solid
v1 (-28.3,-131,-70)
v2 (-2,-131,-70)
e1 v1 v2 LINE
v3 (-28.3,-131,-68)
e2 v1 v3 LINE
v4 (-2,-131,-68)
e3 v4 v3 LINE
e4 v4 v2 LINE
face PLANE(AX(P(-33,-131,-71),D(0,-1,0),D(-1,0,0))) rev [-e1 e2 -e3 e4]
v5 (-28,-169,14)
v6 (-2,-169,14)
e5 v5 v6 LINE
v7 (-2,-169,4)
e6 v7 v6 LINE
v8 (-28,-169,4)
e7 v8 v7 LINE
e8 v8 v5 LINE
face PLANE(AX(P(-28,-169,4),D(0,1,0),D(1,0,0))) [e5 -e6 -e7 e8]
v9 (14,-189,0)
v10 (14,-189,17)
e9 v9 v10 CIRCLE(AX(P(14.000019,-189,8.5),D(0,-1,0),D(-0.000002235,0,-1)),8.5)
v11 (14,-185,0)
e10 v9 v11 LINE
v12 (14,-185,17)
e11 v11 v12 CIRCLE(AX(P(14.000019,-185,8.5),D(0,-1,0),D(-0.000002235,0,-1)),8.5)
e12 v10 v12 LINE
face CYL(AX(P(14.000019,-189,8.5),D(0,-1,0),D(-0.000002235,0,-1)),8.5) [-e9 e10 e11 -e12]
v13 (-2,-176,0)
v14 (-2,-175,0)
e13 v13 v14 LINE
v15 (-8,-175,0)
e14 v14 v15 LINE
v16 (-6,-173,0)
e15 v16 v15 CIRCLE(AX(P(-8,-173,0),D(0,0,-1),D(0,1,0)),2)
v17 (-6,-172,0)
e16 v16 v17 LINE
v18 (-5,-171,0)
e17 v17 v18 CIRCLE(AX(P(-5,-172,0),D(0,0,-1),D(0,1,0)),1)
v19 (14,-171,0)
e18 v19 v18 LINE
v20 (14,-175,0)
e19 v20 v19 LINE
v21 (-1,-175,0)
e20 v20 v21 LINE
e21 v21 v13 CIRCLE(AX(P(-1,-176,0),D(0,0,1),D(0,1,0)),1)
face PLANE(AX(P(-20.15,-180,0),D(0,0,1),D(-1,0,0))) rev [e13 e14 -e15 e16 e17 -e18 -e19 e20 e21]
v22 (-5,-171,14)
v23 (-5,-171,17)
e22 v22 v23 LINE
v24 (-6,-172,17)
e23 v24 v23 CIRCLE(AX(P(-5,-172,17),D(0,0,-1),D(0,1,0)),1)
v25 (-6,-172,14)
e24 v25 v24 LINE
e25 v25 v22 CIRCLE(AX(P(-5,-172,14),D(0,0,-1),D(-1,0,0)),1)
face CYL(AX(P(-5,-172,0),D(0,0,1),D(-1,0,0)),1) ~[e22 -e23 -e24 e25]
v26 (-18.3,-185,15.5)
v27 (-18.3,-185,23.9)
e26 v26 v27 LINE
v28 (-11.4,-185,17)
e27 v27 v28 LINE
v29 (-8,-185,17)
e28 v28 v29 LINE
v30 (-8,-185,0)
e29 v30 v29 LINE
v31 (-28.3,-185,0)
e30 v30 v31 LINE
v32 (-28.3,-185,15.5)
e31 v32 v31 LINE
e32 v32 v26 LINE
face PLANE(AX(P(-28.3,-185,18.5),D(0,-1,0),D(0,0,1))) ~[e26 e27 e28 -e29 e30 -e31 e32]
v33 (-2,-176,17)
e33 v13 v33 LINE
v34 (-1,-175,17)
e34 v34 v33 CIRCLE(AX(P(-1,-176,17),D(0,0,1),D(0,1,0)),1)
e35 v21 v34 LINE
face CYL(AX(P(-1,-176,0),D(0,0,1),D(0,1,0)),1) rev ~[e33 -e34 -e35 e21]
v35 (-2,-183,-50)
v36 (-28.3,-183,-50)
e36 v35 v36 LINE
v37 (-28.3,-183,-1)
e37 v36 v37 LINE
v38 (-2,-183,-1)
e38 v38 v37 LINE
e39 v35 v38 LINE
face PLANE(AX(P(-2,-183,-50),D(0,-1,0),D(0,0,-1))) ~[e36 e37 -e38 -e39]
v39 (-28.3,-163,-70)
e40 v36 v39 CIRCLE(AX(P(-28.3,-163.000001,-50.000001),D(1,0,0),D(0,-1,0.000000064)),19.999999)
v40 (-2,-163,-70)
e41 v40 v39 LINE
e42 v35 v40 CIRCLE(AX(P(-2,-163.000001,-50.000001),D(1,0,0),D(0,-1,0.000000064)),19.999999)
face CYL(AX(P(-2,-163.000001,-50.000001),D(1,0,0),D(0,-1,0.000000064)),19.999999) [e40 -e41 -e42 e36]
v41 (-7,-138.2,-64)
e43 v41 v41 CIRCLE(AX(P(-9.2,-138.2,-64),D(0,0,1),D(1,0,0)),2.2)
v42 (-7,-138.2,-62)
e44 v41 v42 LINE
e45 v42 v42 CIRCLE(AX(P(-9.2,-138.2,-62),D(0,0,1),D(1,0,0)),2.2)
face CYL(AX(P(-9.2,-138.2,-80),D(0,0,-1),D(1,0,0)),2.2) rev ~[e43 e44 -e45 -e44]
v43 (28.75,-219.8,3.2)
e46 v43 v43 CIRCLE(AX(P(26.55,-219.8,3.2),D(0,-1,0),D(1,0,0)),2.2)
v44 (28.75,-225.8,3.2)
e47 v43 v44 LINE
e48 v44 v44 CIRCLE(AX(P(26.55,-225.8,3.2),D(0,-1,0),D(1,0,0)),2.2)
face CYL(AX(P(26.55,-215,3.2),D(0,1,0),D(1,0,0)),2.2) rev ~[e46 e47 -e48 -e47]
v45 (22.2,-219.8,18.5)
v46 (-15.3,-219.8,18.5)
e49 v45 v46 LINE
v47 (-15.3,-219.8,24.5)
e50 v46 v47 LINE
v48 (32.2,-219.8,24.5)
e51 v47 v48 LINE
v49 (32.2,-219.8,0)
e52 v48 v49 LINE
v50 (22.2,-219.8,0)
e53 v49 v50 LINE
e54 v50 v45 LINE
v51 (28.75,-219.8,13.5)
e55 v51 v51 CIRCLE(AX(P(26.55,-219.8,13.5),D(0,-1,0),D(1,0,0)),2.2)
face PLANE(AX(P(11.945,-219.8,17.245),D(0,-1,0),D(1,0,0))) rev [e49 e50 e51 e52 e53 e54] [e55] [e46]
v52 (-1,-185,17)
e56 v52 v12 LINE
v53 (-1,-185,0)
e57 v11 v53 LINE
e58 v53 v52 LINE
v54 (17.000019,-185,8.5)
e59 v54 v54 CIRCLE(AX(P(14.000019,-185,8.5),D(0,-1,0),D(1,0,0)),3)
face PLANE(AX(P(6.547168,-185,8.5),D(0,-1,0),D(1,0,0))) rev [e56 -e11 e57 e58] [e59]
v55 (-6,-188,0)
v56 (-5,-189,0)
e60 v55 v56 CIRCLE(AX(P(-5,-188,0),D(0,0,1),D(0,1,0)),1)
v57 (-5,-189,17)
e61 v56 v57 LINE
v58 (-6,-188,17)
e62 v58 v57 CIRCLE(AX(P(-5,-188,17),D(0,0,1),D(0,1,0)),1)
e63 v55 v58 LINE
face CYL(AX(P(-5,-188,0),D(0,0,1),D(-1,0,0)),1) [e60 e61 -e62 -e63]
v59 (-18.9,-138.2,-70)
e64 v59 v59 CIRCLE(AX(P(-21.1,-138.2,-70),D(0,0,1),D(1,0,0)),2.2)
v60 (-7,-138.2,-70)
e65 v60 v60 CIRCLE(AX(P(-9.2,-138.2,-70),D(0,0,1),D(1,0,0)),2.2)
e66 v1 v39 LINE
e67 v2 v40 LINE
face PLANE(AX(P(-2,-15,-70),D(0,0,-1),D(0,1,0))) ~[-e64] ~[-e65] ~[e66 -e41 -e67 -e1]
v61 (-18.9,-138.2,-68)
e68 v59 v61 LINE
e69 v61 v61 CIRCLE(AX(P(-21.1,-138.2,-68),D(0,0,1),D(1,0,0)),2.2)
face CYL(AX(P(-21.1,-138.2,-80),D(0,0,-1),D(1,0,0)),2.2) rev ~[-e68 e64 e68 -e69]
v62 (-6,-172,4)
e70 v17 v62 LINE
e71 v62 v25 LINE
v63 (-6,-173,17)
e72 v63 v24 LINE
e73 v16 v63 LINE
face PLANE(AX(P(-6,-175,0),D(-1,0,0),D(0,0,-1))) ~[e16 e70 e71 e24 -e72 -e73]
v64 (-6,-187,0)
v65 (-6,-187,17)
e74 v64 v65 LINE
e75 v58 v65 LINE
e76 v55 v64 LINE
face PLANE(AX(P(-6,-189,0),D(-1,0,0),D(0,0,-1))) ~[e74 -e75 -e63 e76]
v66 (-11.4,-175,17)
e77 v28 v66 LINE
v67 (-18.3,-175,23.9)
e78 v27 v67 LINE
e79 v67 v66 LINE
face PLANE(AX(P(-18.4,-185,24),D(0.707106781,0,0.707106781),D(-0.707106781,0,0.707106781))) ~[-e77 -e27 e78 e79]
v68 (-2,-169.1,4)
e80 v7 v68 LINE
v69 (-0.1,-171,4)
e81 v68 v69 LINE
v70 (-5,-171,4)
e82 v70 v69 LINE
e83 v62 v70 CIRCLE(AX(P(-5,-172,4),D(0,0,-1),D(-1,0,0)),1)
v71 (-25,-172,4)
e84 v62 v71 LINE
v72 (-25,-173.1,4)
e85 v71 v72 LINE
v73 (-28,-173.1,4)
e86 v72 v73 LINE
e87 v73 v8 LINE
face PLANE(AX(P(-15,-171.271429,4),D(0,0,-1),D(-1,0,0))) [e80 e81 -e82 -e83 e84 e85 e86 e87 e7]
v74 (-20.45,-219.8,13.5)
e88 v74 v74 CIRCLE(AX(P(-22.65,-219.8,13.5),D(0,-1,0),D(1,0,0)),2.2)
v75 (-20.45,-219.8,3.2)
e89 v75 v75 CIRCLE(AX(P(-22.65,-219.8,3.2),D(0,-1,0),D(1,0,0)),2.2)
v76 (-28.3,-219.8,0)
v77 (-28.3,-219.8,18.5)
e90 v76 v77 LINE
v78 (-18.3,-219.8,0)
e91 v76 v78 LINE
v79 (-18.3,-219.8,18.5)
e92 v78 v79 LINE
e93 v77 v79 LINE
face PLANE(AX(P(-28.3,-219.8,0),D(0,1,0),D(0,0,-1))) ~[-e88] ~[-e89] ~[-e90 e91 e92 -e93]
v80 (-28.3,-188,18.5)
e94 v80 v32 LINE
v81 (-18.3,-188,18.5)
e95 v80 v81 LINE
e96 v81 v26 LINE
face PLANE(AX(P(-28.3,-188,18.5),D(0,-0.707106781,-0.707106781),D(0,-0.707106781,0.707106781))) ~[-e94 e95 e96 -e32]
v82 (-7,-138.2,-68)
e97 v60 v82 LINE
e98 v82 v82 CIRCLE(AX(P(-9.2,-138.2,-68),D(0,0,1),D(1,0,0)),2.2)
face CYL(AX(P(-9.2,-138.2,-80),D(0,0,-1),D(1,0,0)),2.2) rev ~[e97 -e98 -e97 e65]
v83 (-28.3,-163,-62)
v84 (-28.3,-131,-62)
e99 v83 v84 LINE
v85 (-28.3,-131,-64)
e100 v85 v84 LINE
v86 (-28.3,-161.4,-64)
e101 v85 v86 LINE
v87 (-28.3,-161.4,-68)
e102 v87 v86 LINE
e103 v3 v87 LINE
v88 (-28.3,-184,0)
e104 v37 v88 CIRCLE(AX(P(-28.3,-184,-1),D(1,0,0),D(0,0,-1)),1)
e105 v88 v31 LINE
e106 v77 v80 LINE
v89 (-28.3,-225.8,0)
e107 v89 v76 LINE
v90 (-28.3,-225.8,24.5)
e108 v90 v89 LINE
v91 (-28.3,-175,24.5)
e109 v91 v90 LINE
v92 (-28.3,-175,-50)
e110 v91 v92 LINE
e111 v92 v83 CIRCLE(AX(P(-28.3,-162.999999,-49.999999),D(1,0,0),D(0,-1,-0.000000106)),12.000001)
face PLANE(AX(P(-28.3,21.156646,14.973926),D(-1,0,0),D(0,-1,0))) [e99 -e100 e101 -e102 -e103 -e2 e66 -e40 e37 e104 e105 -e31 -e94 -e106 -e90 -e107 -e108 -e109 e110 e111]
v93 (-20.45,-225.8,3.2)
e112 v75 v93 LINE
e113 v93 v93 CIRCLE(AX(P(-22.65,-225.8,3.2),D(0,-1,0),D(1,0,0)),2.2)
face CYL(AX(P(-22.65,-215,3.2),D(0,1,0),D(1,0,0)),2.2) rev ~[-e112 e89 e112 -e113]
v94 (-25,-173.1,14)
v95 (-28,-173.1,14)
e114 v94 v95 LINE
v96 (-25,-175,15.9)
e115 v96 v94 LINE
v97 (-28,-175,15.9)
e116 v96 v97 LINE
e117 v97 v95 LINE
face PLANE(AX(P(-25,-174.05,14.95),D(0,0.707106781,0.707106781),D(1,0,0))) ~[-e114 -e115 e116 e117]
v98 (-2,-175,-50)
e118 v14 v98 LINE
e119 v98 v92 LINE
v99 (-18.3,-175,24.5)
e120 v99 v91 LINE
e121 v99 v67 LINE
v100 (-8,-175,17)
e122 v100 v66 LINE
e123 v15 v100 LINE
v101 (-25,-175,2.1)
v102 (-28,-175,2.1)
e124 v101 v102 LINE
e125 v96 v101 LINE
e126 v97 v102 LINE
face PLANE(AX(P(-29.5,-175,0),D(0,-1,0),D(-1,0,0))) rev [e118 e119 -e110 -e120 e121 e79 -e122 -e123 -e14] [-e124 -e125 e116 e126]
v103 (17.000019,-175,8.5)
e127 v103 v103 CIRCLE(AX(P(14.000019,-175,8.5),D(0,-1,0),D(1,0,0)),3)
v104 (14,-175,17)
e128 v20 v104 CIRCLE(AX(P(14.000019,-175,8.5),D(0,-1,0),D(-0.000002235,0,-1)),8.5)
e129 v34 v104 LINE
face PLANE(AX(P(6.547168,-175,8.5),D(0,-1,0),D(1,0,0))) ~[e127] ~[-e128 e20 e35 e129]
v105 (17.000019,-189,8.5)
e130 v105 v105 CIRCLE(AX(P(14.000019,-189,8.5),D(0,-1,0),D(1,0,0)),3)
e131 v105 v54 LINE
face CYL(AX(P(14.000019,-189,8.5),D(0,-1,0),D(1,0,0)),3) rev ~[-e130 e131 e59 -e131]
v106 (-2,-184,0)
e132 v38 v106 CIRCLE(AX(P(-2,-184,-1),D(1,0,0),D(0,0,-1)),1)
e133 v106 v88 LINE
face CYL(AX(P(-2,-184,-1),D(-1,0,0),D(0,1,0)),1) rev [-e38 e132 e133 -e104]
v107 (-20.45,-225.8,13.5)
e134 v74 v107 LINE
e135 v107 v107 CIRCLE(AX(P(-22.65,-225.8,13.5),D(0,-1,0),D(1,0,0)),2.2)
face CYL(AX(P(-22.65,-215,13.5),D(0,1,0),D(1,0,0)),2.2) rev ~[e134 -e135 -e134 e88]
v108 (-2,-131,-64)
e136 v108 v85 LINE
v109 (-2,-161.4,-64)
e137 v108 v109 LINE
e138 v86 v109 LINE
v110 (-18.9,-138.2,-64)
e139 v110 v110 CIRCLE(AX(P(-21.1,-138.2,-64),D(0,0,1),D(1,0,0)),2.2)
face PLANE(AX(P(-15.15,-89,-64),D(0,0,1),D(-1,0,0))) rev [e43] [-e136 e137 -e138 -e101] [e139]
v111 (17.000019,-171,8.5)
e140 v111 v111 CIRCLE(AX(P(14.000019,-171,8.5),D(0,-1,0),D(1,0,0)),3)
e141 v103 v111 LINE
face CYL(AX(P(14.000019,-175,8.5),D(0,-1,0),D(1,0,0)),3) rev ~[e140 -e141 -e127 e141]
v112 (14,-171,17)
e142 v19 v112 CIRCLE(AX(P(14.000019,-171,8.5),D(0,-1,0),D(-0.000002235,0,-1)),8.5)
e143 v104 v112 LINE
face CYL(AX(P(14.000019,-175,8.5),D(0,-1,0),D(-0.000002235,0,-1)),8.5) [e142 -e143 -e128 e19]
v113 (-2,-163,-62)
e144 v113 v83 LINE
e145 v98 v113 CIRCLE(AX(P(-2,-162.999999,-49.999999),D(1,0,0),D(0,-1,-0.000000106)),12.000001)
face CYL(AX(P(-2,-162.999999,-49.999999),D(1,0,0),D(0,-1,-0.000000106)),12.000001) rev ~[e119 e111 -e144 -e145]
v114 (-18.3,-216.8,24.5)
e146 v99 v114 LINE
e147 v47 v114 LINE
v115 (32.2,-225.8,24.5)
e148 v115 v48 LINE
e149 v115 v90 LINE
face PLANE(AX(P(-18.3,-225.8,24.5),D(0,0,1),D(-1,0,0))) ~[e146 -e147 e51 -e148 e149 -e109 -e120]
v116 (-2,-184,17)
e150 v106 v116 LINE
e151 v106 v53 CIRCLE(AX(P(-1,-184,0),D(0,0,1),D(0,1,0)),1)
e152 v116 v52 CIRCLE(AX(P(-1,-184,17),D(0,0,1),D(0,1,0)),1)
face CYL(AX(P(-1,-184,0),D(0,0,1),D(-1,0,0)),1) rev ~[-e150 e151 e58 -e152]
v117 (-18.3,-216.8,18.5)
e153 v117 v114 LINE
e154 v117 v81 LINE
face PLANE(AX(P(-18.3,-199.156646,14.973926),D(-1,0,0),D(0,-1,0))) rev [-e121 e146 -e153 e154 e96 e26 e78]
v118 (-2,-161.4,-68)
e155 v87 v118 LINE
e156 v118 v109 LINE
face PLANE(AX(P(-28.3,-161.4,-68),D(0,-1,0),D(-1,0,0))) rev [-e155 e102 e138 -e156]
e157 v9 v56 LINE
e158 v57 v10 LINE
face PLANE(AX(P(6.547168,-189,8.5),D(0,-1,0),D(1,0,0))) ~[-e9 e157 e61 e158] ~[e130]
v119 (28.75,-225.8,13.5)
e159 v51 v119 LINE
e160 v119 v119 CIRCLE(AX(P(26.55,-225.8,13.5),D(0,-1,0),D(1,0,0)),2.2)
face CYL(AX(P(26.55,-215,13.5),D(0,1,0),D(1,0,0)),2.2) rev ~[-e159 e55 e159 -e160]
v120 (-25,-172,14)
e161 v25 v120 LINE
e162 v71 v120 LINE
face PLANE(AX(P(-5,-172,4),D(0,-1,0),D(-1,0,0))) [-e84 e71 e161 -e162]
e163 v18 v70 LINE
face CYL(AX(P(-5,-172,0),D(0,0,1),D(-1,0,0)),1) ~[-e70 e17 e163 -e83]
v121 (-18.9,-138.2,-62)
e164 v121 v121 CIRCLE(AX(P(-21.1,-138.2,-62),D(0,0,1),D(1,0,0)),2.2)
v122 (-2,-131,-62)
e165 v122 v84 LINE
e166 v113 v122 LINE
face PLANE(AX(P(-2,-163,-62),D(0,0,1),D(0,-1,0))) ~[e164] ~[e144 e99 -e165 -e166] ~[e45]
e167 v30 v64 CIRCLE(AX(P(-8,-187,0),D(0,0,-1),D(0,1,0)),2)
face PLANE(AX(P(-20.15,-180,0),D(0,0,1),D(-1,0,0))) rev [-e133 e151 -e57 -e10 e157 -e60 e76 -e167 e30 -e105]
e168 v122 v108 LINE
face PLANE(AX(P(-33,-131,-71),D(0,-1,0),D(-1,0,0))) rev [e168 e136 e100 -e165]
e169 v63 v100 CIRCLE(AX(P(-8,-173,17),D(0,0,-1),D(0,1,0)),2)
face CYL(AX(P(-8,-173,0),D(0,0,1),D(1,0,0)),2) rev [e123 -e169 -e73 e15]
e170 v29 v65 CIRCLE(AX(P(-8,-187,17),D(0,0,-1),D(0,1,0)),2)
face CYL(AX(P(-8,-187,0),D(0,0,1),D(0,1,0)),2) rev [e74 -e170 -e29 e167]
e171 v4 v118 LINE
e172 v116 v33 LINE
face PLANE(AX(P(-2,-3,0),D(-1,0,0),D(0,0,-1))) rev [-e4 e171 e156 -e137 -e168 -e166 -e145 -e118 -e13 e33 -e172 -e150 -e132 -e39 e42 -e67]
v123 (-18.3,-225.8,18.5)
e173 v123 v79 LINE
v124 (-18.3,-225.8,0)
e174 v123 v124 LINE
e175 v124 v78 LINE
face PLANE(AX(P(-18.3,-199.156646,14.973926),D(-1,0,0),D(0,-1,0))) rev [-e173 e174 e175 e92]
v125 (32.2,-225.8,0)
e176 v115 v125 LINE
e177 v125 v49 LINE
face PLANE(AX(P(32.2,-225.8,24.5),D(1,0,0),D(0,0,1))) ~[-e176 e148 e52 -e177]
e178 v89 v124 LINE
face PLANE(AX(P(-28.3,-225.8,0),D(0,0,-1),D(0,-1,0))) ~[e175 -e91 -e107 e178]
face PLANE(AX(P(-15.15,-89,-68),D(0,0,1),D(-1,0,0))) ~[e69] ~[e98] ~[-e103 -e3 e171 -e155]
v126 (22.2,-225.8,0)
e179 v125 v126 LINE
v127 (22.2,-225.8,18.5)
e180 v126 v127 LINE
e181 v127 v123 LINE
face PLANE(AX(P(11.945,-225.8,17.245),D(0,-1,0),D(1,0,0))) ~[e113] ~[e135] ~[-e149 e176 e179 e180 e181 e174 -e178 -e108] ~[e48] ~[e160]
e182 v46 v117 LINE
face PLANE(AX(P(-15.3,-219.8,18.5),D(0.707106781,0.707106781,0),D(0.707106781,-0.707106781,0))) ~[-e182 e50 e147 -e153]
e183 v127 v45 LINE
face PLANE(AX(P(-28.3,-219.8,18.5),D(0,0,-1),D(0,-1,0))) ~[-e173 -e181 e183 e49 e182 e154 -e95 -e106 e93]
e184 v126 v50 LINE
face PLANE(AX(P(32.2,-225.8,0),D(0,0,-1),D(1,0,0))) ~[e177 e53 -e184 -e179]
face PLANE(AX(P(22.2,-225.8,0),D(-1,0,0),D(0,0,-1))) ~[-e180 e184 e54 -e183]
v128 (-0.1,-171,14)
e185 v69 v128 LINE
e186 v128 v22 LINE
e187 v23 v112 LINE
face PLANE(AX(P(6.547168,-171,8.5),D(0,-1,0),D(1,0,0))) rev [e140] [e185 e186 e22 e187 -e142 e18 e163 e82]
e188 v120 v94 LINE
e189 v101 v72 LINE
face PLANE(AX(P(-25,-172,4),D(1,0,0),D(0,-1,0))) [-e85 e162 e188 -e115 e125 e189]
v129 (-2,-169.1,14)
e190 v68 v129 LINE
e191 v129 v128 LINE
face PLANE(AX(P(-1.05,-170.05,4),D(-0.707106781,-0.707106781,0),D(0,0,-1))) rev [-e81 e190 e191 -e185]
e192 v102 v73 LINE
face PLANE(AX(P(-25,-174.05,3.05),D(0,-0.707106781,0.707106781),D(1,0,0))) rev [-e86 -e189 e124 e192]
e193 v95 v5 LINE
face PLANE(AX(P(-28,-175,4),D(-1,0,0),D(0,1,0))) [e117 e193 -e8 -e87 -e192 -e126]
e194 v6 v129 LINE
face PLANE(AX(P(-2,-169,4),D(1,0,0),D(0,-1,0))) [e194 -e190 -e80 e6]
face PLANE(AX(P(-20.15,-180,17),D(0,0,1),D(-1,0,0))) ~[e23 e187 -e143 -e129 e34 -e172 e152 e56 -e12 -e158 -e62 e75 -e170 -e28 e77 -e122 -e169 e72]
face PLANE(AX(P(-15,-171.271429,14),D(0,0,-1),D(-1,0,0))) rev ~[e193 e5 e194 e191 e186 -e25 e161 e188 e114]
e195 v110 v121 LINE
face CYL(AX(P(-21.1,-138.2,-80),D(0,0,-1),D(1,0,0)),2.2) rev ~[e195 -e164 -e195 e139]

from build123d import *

# Parameters (mm, degrees)
CYLINDER041_R          = 2.2
CYLINDER041_DEPTH      = 26
ARRAY015_X_COUNT       = 2
ARRAY015_X_PITCH       = 11.9
BOX056_W               = 26.3
BOX056_H               = 84
BOX056_DEPTH           = 8
BOX055_W               = 26.3
BOX055_H               = 144.8
BOX055_DEPTH           = 4
PAD070_DEPTH           = 10
PAD071_DEPTH           = 6
BOX054_W               = 80
BOX054_H               = 100
BOX054_DEPTH           = 100
BOX053_W               = 40
BOX053_H               = 84
BOX053_DEPTH           = 10
PAD065_DEPTH           = 10
PAD064_DEPTH           = 10
BOX051_W               = 12
BOX051_H               = 10
BOX051_DEPTH           = 30
CYLINDER039_R          = 2.2
CYLINDER039_DEPTH      = 18
CYLINDER039_ROLL_ANGLE = -90
ARRAY013_X_COUNT       = 2
ARRAY013_X_PITCH       = 49.2
ARRAY013_Z_COUNT       = 2
ARRAY013_Z_PITCH       = 10.3
PAD061_DEPTH           = 6
PAD060_DEPTH           = 10
BOX052_W               = 12
BOX052_H               = 10
BOX052_DEPTH           = 30
CYLINDER040_R          = 2.2
CYLINDER040_DEPTH      = 18
CYLINDER040_ROLL_ANGLE = -90
ARRAY014_X_COUNT       = 2
ARRAY014_X_PITCH       = 49.2
ARRAY014_Z_COUNT       = 2
ARRAY014_Z_PITCH       = 10.3
PAD063_DEPTH           = 6
PAD062_DEPTH           = 10
BOX050_W               = 16.3
BOX050_H               = 10
BOX050_DEPTH           = 17
SKETCH057_R            = 3
PAD058_DEPTH           = 4
SKETCH058_R            = 3
PAD059_DEPTH           = 4
BOX049_W               = 20
BOX049_H               = 17
BOX049_DEPTH           = 10
FILLET021_R            = 1
FILLET021_ROLL_ANGLE   = 90
FILLET022_1_R          = 2
FILLET022_2_R          = 1
BOX046_W               = 16.3
BOX046_H               = 10
BOX046_DEPTH           = 17
SKETCH053_R            = 3
PAD055_DEPTH           = 4
SKETCH054_R            = 3
PAD056_DEPTH           = 4
BOX045_W               = 20
BOX045_H               = 17
BOX045_DEPTH           = 10
FILLET019_R            = 1
FILLET019_ROLL_ANGLE   = 90
FILLET020_1_R          = 2
FILLET020_2_R          = 1
PAD054_DEPTH           = 26.3
CHAMFER008_SIZE        = 1.9
FILLET024_1_R          = 1.5
FILLET024_2_R          = 1
PAD069_DEPTH           = 10


with BuildPart() as taladros_cadera001:
    # Cylinder041 → Cylinder041 (new body)
    with BuildSketch(Plane(origin=(-9.2, -39.8, -80), x_dir=(1, 0, 0), z_dir=(0, 0, 1))):
        Circle(CYLINDER041_R)
    extrude(amount=CYLINDER041_DEPTH)

    # Array015 X: Taladros_cadera001 ×2


with BuildPart() as taladros_cadera001_1:
    add(taladros_cadera001.part)
    with Locations(*[(-i * ARRAY015_X_PITCH, 0, 0) for i in range(1, ARRAY015_X_COUNT)]):
        add(taladros_cadera001.part)


with BuildPart() as cadera_base_centro002:
    # Box056 → Box056 (new body)
    with BuildSketch(Plane(origin=(-28.3, -133, -70), x_dir=(1, 0, 0), z_dir=(0, 0, 1))):
        with Locations((13.15, 42)):
            Rectangle(BOX056_W, BOX056_H)
    extrude(amount=BOX056_DEPTH)


with BuildPart() as cadera_centro001:
    # Box055 → Box055 (new body)
    with BuildSketch(Plane(origin=(-28.3, -163.4, -68), x_dir=(1, 0, 0), z_dir=(0, 0, 1))):
        with Locations((13.15, 72.4)):
            Rectangle(BOX055_W, BOX055_H)
    extrude(amount=BOX055_DEPTH)

    # Fusion009003065: union Cadera_base_centro002
    add(cadera_base_centro002.part)


with BuildPart() as cadera_centro001_1:
    # Fusion009003065 placement: moved
    add(cadera_centro001.part.moved(Location((0, 2, 0))))


with BuildPart() as refuerzo012:
    # Sketch070 → Pad070 (new body)
    with BuildSketch(Plane(origin=(-28.3, 7, 18.5), x_dir=(0, 0, -1), z_dir=(1, 0, 0))):
        Polygon((0, 0), (0, 3), (3, 0), align=None)
    extrude(amount=PAD070_DEPTH)


with BuildPart() as refuerzo013:
    # Sketch071 → Pad071 (new body)
    with BuildSketch(Plane(origin=(-18.3, 41.8, 18.5), x_dir=(0, -1, 0), z_dir=(0, 0, 1))):
        Polygon((0, 0), (0, 3), (3, 0), align=None)
    extrude(amount=PAD071_DEPTH)


with BuildPart() as cortar_extremo_cadera001:
    # Box054 → Box054 (new body)
    with BuildSketch(Plane(origin=(-40, -229, -71), x_dir=(1, 0, 0), z_dir=(0, 0, 1))):
        with Locations((40, 50)):
            Rectangle(BOX054_W, BOX054_H)
    extrude(amount=BOX054_DEPTH)


with BuildPart() as corte_cadera001:
    # Box053 → Box053 (new body)
    with BuildSketch(Plane(origin=(-33, -131, -71), x_dir=(1, 0, 0), z_dir=(0, 0, 1))):
        with Locations((20, 42)):
            Rectangle(BOX053_W, BOX053_H)
    extrude(amount=BOX053_DEPTH)


with BuildPart() as suje_cadera003:
    # Sketch064 → Pad065 (new body)
    with BuildSketch(Plane(origin=(-28, -127, 4), x_dir=(1, 0, 0), z_dir=(0, 0, 1))):
        Polygon((0, 0), (0, 6), (26, 6), (26, 0), (23, 0), (23, 3), (3, 3), (3, 0), align=None)
    extrude(amount=PAD065_DEPTH)


with BuildPart() as suje_cadera1_mirror001:
    # Part__Mirroring011: instance of suje_cadera003
    add(suje_cadera003.part.mirror(Plane(origin=(0, 0, 0), x_dir=(1, 0, 0), z_dir=(0, 1, 0))))


with BuildPart() as suje_cadera1_mirror001_1:
    # Part__Mirroring011 placement: moved
    add(suje_cadera1_mirror001.part.moved(Location((0, -130, 0))))


with BuildPart() as sujetadores_cadera001:
    # Sketch063 → Pad064 (new body)
    with BuildSketch(Plane(origin=(-28, -175, 4), x_dir=(1, 0, 0), z_dir=(0, 0, 1))):
        Polygon((0, 0), (0, 6), (26, 6), (26, 0), (23, 0), (23, 3), (3, 3), (3, 0), align=None)
    extrude(amount=PAD064_DEPTH)

    # Fusion009003063: union suje_cadera1_Mirror001
    add(suje_cadera1_mirror001_1.part)


with BuildPart() as resta_sujetador_cadera002:
    # Box051 → Box051 (new body)
    with BuildSketch(Plane(origin=(-29.5, -13, 0), x_dir=(1, 0, 0), z_dir=(0, 0, 1))):
        with Locations((6, 5)):
            Rectangle(BOX051_W, BOX051_H)
    extrude(amount=BOX051_DEPTH)


with BuildPart() as taladros_suje_motor004:
    # Cylinder039 → Cylinder039 (new body)
    with BuildSketch(Plane.XY):
        Circle(CYLINDER039_R)
    extrude(amount=CYLINDER039_DEPTH)


with BuildPart() as taladros_suje_motor004_1:
    # Cylinder039 roll: moved
    add(taladros_suje_motor004.part.rotate(Axis((0, 0, 0), (1, 0, 0)), CYLINDER039_ROLL_ANGLE))


with BuildPart() as taladros_suje_motor004_2:
    # Cylinder039 placement: moved
    add(taladros_suje_motor004_1.part.moved(Location((150.075, 41, 13.5))))

    # Array013 X: Taladros_suje_motor004 ×2


with BuildPart() as taladros_suje_motor004_3:
    add(taladros_suje_motor004_2.part)
    with Locations(*[(i * ARRAY013_X_PITCH, 0, 0) for i in range(1, ARRAY013_X_COUNT)]):
        add(taladros_suje_motor004_2.part)

    # Array013 Z: Taladros_suje_motor004 ×2


with BuildPart() as taladros_suje_motor004_4:
    add(taladros_suje_motor004_3.part)
    with Locations(*[(0, 0, -i * ARRAY013_Z_PITCH) for i in range(1, ARRAY013_Z_COUNT)]):
        add(taladros_suje_motor004_3.part)


with BuildPart() as suje_motor013:
    # Sketch060 → Pad061 (new body)
    with BuildSketch(Plane(origin=(10, 54.8, 0), x_dir=(1, 0, 0), z_dir=(0, -1, 0))):
        Polygon((0, 18.5), (0, 24.5), (50.5, 24.5), (50.5, 0), (40.5, 0), (40.5, 18.5), align=None)
    extrude(amount=PAD061_DEPTH)


with BuildPart() as sujetador_cadera_full003:
    # Sketch059 → Pad060 (new body)
    with BuildSketch(Plane.YZ):
        Polygon((14, 0), (0, 0), (0, 24.5), (54.8, 24.5), (54.8, 0), (48.8, 0), (48.8, 18.5), (14, 18.5), align=None)
    extrude(amount=PAD060_DEPTH)

    # Fusion009003060: union Suje_motor013
    add(suje_motor013.part)


with BuildPart() as sujetador_cadera_full003_1:
    # Fusion009003060 placement: moved
    add(sujetador_cadera_full003.part.moved(Location((144.425, -3, 0))))

    # Cut041: cut Taladros_suje_motor004
    add(taladros_suje_motor004_4.part, mode=Mode.SUBTRACT)


with BuildPart() as sujetador_cadera_full003_2:
    # Cut041 placement: moved
    add(sujetador_cadera_full003_1.part.moved(Location((-172.725, -4, 0))))

    # Cut042: cut Resta_sujetador_cadera002
    add(resta_sujetador_cadera002.part, mode=Mode.SUBTRACT)


with BuildPart() as resta_sujetador_cadera003:
    # Box052 → Box052 (new body)
    with BuildSketch(Plane(origin=(-29.5, -13, 0), x_dir=(1, 0, 0), z_dir=(0, 0, 1))):
        with Locations((6, 5)):
            Rectangle(BOX052_W, BOX052_H)
    extrude(amount=BOX052_DEPTH)


with BuildPart() as taladros_suje_motor005:
    # Cylinder040 → Cylinder040 (new body)
    with BuildSketch(Plane.XY):
        Circle(CYLINDER040_R)
    extrude(amount=CYLINDER040_DEPTH)


with BuildPart() as taladros_suje_motor005_1:
    # Cylinder040 roll: moved
    add(taladros_suje_motor005.part.rotate(Axis((0, 0, 0), (1, 0, 0)), CYLINDER040_ROLL_ANGLE))


with BuildPart() as taladros_suje_motor005_2:
    # Cylinder040 placement: moved
    add(taladros_suje_motor005_1.part.moved(Location((150.075, 41, 13.5))))

    # Array014 X: Taladros_suje_motor005 ×2


with BuildPart() as taladros_suje_motor005_3:
    add(taladros_suje_motor005_2.part)
    with Locations(*[(i * ARRAY014_X_PITCH, 0, 0) for i in range(1, ARRAY014_X_COUNT)]):
        add(taladros_suje_motor005_2.part)

    # Array014 Z: Taladros_suje_motor005 ×2


with BuildPart() as taladros_suje_motor005_4:
    add(taladros_suje_motor005_3.part)
    with Locations(*[(0, 0, -i * ARRAY014_Z_PITCH) for i in range(1, ARRAY014_Z_COUNT)]):
        add(taladros_suje_motor005_3.part)


with BuildPart() as suje_motor016:
    # Sketch062 → Pad063 (new body)
    with BuildSketch(Plane(origin=(10, 54.8, 0), x_dir=(1, 0, 0), z_dir=(0, -1, 0))):
        Polygon((0, 18.5), (0, 24.5), (50.5, 24.5), (50.5, 0), (40.5, 0), (40.5, 18.5), align=None)
    extrude(amount=PAD063_DEPTH)


with BuildPart() as sujetador_cadera_full004:
    # Sketch061 → Pad062 (new body)
    with BuildSketch(Plane.YZ):
        Polygon((14, 0), (0, 0), (0, 24.5), (54.8, 24.5), (54.8, 0), (48.8, 0), (48.8, 18.5), (14, 18.5), align=None)
    extrude(amount=PAD062_DEPTH)

    # Fusion009003061: union Suje_motor016
    add(suje_motor016.part)


with BuildPart() as sujetador_cadera_full004_1:
    # Fusion009003061 placement: moved
    add(sujetador_cadera_full004.part.moved(Location((144.425, -3, 0))))

    # Cut043: cut Taladros_suje_motor005
    add(taladros_suje_motor005_4.part, mode=Mode.SUBTRACT)


with BuildPart() as sujetador_cadera_full004_2:
    # Cut043 placement: moved
    add(sujetador_cadera_full004_1.part.moved(Location((-172.725, -4, 0))))

    # Cut044: cut Resta_sujetador_cadera003
    add(resta_sujetador_cadera003.part, mode=Mode.SUBTRACT)


with BuildPart() as sujetador_cadera_full_mirror001:
    # Part__Mirroring010: instance of Sujetador_cadera_full004
    add(sujetador_cadera_full004_2.part.mirror(Plane(origin=(0, 0, 0), x_dir=(1, 0, 0), z_dir=(0, 1, 0))))


with BuildPart() as sujetador_cadera_full_mirror001_1:
    # Part__Mirroring010 placement: moved
    add(sujetador_cadera_full_mirror001.part.moved(Location((0, -178, 0))))


with BuildPart() as cubo_externo003:
    # Box050 → Box050 (new body)
    with BuildSketch(Plane(origin=(-26.3, -8, 0), x_dir=(1, 0, 0), z_dir=(0, 0, 1))):
        with Locations((8.15, 5)):
            Rectangle(BOX050_W, BOX050_H)
    extrude(amount=BOX050_DEPTH)


with BuildPart() as ciculo_gancho011:
    # Sketch057 → Pad058 (new body)
    with BuildSketch(Plane.XY):
        with BuildLine():
            Line((0, 17), (20, 17))
            ThreePointArc((20, 0), (28.500019, 8.5), (20, 17))
            Line((20, 0), (0, 0))
            Line((0, 0), (0, 17))
        make_face()
        with Locations((20.000019, 8.5)):
            Circle(SKETCH057_R, mode=Mode.SUBTRACT)
    extrude(amount=PAD058_DEPTH)


with BuildPart() as ciculo_gancho012:
    # Sketch058 → Pad059 (new body)
    with BuildSketch(Plane.XY.offset(14)):
        with BuildLine():
            Line((0, 17), (20, 17))
            ThreePointArc((20, 0), (28.500019, 8.5), (20, 17))
            Line((20, 0), (0, 0))
            Line((0, 0), (0, 17))
        make_face()
        with Locations((20.000019, 8.5)):
            Circle(SKETCH058_R, mode=Mode.SUBTRACT)
    extrude(amount=PAD059_DEPTH)


with BuildPart() as gancho_cadera003:
    # Box049 → Box049 (new body)
    with BuildSketch(Plane(origin=(-16, 0, 4), x_dir=(1, 0, 0), z_dir=(0, 0, 1))):
        with Locations((10, 8.5)):
            Rectangle(BOX049_W, BOX049_H)
    extrude(amount=BOX049_DEPTH)

    # Fusion009003056: union Ciculo_gancho011, Ciculo_gancho012
    add(ciculo_gancho011.part)
    add(ciculo_gancho012.part)

    # Fillet021
    fillet021_edges = [gancho_cadera003.edges().sort_by_distance(p)[0] for p in [
        (0, 8.5, 18),
        (-16, 0, 9),
        (-16, 17, 9),
        (0, 8.5, 0),
    ]]
    fillet(fillet021_edges, radius=FILLET021_R)


with BuildPart() as gancho_cadera003_1:
    # Fillet021 roll: moved
    add(gancho_cadera003.part.rotate(Axis((0, 0, 0), (1, 0, 0)), FILLET021_ROLL_ANGLE))


with BuildPart() as gancho_cadera003_2:
    # Fillet021 placement: moved
    add(gancho_cadera003_1.part.moved(Location((16, 15, 0))))

    # Fillet022 1
    fillet022_1_edges = [gancho_cadera003_2.edges().sort_by_distance(p)[0] for p in [
        (16, 1, 8.5),
        (16, 11, 8.5),
    ]]
    fillet(fillet022_1_edges, radius=FILLET022_1_R)

    # Fillet022 2
    fillet022_2_edges = [gancho_cadera003_2.edges().sort_by_distance(p)[0] for p in [
        (20, 1, 8.5),
        (20, 11, 8.5),
    ]]
    fillet(fillet022_2_edges, radius=FILLET022_2_R)


with BuildPart() as gancho_cadera003_3:
    # Fillet022 placement: moved
    add(gancho_cadera003_2.part.moved(Location((-20, -9, 0))))

    # Fusion009003057: union Cubo_externo003
    add(cubo_externo003.part)


with BuildPart() as gancho_cadera003_4:
    # Fusion009003057 placement: moved
    add(gancho_cadera003_3.part.moved(Location((0, -182, 0))))


with BuildPart() as cubo_externo002:
    # Box046 → Box046 (new body)
    with BuildSketch(Plane(origin=(-26.3, -8, 0), x_dir=(1, 0, 0), z_dir=(0, 0, 1))):
        with Locations((8.15, 5)):
            Rectangle(BOX046_W, BOX046_H)
    extrude(amount=BOX046_DEPTH)


with BuildPart() as ciculo_gancho009:
    # Sketch053 → Pad055 (new body)
    with BuildSketch(Plane.XY):
        with BuildLine():
            Line((0, 17), (20, 17))
            ThreePointArc((20, 0), (28.500019, 8.5), (20, 17))
            Line((20, 0), (0, 0))
            Line((0, 0), (0, 17))
        make_face()
        with Locations((20.000019, 8.5)):
            Circle(SKETCH053_R, mode=Mode.SUBTRACT)
    extrude(amount=PAD055_DEPTH)


with BuildPart() as ciculo_gancho010:
    # Sketch054 → Pad056 (new body)
    with BuildSketch(Plane.XY.offset(14)):
        with BuildLine():
            Line((0, 17), (20, 17))
            ThreePointArc((20, 0), (28.500019, 8.5), (20, 17))
            Line((20, 0), (0, 0))
            Line((0, 0), (0, 17))
        make_face()
        with Locations((20.000019, 8.5)):
            Circle(SKETCH054_R, mode=Mode.SUBTRACT)
    extrude(amount=PAD056_DEPTH)


with BuildPart() as ganchos_cadera001:
    # Box045 → Box045 (new body)
    with BuildSketch(Plane(origin=(-16, 0, 4), x_dir=(1, 0, 0), z_dir=(0, 0, 1))):
        with Locations((10, 8.5)):
            Rectangle(BOX045_W, BOX045_H)
    extrude(amount=BOX045_DEPTH)

    # Fusion009003052: union Ciculo_gancho009, Ciculo_gancho010
    add(ciculo_gancho009.part)
    add(ciculo_gancho010.part)

    # Fillet019
    fillet019_edges = [ganchos_cadera001.edges().sort_by_distance(p)[0] for p in [
        (0, 8.5, 18),
        (-16, 0, 9),
        (-16, 17, 9),
        (0, 8.5, 0),
    ]]
    fillet(fillet019_edges, radius=FILLET019_R)


with BuildPart() as ganchos_cadera001_1:
    # Fillet019 roll: moved
    add(ganchos_cadera001.part.rotate(Axis((0, 0, 0), (1, 0, 0)), FILLET019_ROLL_ANGLE))


with BuildPart() as ganchos_cadera001_2:
    # Fillet019 placement: moved
    add(ganchos_cadera001_1.part.moved(Location((16, 15, 0))))

    # Fillet020 1
    fillet020_1_edges = [ganchos_cadera001_2.edges().sort_by_distance(p)[0] for p in [
        (16, 1, 8.5),
        (16, 11, 8.5),
    ]]
    fillet(fillet020_1_edges, radius=FILLET020_1_R)

    # Fillet020 2
    fillet020_2_edges = [ganchos_cadera001_2.edges().sort_by_distance(p)[0] for p in [
        (20, 1, 8.5),
        (20, 11, 8.5),
    ]]
    fillet(fillet020_2_edges, radius=FILLET020_2_R)


with BuildPart() as ganchos_cadera001_3:
    # Fillet020 placement: moved
    add(ganchos_cadera001_2.part.moved(Location((-20, -9, 0))))

    # Fusion009003055: union Cubo_externo002
    add(cubo_externo002.part)

    # Fusion009003058: union Gancho_cadera003
    add(gancho_cadera003_4.part)


with BuildPart() as cadera_extremo_izquierdo_base001:
    # Sketch055 → Pad054 (new body)
    with BuildSketch(Plane(origin=(0, 0, 0), x_dir=(0, 1, 0), z_dir=(-1, 0, 0))):
        with BuildLine():
            Line((-188, 0), (-188, 50))
            ThreePointArc((-168, 70), (-182.142136, 64.142136), (-188, 50))
            Line((-168, 70), (-20, 70))
            ThreePointArc((0, 50), (-5.857864, 64.142136), (-20, 70))
            Line((0, 50), (0, 0))
            Line((0, 0), (-8, 0))
            Line((-8, 0), (-8, 50))
            ThreePointArc((-8, 50), (-11.514719, 58.485281), (-20, 62))
            Line((-20, 62), (-168, 62))
            ThreePointArc((-168, 62), (-176.485281, 58.485281), (-180, 50))
            Line((-180, 50), (-180, 0))
            Line((-180, 0), (-188, 0))
        make_face()
    extrude(amount=PAD054_DEPTH)

    # Fusion009003059: union Ganchos_cadera001
    add(ganchos_cadera001_3.part)


with BuildPart() as cadera_extremo_izquierdo_base001_1:
    # Fusion009003059 placement: moved
    add(cadera_extremo_izquierdo_base001.part.moved(Location((-2, 5, 0))))

    # Fusion009003062: union Sujetador_cadera_full003, Sujetador_cadera_full Mirror001
    add(sujetador_cadera_full003_2.part)
    add(sujetador_cadera_full_mirror001_1.part)

    # Fusion009003064: union Sujetadores_cadera001
    add(sujetadores_cadera001.part)

    # Chamfer008
    chamfer008_edges = [cadera_extremo_izquierdo_base001_1.edges().sort_by_distance(p)[0] for p in [
        (-2, -7, 9),
        (-26.5, -3, 14),
        (-26.5, -3, 4),
        (-26.5, -175, 14),
        (-26.5, -175, 4),
        (-2, -171, 9),
    ]]
    chamfer(chamfer008_edges, length=CHAMFER008_SIZE)

    # Fillet024 1
    fillet024_1_edges = [cadera_extremo_izquierdo_base001_1.edges().sort_by_distance(p)[0] for p in [
        (-18.3, 2, 17),
        (-18.3, -180, 17),
    ]]
    fillet(fillet024_1_edges, radius=FILLET024_1_R)

    # Fillet024 2
    fillet024_2_edges = [cadera_extremo_izquierdo_base001_1.edges().sort_by_distance(p)[0] for p in [
        (-15.15, 5, 0),
        (-15.15, -183, 0),
    ]]
    fillet(fillet024_2_edges, radius=FILLET024_2_R)

    # Cut045: cut Corte_cadera001
    add(corte_cadera001.part, mode=Mode.SUBTRACT)

    # Cut046: cut Cortar_extremo_cadera001
    add(cortar_extremo_cadera001.part, mode=Mode.SUBTRACT)


with BuildPart() as cadera_izquierda_full001:
    # Sketch069 → Pad069 (new body)
    with BuildSketch(Plane(origin=(-18.4, 7, 17), x_dir=(1, 0, 0), z_dir=(0, -1, 0))):
        Polygon((0, 0), (0, 7), (7, 0), align=None)
    extrude(amount=PAD069_DEPTH)

    # Fusion009003067: union Refuerzo012, Refuerzo013, Cadera_extremo_izquierdo_base001
    add(refuerzo012.part)
    add(refuerzo013.part)
    add(cadera_extremo_izquierdo_base001_1.part)

    # Cut047: cut Cadera_centro001
    add(cadera_centro001_1.part, mode=Mode.SUBTRACT)

    # Cut048: cut Taladros_cadera001
    add(taladros_cadera001_1.part, mode=Mode.SUBTRACT)


with BuildPart() as cadera_derecha_full:
    # Part__Mirroring013: instance of Cadera_izquierda_full001
    add(cadera_izquierda_full001.part.mirror(Plane(origin=(0, 0, 0), x_dir=(1, 0, 0), z_dir=(0, 1, 0))))


with BuildPart() as cadera_derecha_full_1:
    # Part__Mirroring013 placement: moved
    add(cadera_derecha_full.part.moved(Location((0, -178, 0))))


solid = cadera_derecha_full_1.part
